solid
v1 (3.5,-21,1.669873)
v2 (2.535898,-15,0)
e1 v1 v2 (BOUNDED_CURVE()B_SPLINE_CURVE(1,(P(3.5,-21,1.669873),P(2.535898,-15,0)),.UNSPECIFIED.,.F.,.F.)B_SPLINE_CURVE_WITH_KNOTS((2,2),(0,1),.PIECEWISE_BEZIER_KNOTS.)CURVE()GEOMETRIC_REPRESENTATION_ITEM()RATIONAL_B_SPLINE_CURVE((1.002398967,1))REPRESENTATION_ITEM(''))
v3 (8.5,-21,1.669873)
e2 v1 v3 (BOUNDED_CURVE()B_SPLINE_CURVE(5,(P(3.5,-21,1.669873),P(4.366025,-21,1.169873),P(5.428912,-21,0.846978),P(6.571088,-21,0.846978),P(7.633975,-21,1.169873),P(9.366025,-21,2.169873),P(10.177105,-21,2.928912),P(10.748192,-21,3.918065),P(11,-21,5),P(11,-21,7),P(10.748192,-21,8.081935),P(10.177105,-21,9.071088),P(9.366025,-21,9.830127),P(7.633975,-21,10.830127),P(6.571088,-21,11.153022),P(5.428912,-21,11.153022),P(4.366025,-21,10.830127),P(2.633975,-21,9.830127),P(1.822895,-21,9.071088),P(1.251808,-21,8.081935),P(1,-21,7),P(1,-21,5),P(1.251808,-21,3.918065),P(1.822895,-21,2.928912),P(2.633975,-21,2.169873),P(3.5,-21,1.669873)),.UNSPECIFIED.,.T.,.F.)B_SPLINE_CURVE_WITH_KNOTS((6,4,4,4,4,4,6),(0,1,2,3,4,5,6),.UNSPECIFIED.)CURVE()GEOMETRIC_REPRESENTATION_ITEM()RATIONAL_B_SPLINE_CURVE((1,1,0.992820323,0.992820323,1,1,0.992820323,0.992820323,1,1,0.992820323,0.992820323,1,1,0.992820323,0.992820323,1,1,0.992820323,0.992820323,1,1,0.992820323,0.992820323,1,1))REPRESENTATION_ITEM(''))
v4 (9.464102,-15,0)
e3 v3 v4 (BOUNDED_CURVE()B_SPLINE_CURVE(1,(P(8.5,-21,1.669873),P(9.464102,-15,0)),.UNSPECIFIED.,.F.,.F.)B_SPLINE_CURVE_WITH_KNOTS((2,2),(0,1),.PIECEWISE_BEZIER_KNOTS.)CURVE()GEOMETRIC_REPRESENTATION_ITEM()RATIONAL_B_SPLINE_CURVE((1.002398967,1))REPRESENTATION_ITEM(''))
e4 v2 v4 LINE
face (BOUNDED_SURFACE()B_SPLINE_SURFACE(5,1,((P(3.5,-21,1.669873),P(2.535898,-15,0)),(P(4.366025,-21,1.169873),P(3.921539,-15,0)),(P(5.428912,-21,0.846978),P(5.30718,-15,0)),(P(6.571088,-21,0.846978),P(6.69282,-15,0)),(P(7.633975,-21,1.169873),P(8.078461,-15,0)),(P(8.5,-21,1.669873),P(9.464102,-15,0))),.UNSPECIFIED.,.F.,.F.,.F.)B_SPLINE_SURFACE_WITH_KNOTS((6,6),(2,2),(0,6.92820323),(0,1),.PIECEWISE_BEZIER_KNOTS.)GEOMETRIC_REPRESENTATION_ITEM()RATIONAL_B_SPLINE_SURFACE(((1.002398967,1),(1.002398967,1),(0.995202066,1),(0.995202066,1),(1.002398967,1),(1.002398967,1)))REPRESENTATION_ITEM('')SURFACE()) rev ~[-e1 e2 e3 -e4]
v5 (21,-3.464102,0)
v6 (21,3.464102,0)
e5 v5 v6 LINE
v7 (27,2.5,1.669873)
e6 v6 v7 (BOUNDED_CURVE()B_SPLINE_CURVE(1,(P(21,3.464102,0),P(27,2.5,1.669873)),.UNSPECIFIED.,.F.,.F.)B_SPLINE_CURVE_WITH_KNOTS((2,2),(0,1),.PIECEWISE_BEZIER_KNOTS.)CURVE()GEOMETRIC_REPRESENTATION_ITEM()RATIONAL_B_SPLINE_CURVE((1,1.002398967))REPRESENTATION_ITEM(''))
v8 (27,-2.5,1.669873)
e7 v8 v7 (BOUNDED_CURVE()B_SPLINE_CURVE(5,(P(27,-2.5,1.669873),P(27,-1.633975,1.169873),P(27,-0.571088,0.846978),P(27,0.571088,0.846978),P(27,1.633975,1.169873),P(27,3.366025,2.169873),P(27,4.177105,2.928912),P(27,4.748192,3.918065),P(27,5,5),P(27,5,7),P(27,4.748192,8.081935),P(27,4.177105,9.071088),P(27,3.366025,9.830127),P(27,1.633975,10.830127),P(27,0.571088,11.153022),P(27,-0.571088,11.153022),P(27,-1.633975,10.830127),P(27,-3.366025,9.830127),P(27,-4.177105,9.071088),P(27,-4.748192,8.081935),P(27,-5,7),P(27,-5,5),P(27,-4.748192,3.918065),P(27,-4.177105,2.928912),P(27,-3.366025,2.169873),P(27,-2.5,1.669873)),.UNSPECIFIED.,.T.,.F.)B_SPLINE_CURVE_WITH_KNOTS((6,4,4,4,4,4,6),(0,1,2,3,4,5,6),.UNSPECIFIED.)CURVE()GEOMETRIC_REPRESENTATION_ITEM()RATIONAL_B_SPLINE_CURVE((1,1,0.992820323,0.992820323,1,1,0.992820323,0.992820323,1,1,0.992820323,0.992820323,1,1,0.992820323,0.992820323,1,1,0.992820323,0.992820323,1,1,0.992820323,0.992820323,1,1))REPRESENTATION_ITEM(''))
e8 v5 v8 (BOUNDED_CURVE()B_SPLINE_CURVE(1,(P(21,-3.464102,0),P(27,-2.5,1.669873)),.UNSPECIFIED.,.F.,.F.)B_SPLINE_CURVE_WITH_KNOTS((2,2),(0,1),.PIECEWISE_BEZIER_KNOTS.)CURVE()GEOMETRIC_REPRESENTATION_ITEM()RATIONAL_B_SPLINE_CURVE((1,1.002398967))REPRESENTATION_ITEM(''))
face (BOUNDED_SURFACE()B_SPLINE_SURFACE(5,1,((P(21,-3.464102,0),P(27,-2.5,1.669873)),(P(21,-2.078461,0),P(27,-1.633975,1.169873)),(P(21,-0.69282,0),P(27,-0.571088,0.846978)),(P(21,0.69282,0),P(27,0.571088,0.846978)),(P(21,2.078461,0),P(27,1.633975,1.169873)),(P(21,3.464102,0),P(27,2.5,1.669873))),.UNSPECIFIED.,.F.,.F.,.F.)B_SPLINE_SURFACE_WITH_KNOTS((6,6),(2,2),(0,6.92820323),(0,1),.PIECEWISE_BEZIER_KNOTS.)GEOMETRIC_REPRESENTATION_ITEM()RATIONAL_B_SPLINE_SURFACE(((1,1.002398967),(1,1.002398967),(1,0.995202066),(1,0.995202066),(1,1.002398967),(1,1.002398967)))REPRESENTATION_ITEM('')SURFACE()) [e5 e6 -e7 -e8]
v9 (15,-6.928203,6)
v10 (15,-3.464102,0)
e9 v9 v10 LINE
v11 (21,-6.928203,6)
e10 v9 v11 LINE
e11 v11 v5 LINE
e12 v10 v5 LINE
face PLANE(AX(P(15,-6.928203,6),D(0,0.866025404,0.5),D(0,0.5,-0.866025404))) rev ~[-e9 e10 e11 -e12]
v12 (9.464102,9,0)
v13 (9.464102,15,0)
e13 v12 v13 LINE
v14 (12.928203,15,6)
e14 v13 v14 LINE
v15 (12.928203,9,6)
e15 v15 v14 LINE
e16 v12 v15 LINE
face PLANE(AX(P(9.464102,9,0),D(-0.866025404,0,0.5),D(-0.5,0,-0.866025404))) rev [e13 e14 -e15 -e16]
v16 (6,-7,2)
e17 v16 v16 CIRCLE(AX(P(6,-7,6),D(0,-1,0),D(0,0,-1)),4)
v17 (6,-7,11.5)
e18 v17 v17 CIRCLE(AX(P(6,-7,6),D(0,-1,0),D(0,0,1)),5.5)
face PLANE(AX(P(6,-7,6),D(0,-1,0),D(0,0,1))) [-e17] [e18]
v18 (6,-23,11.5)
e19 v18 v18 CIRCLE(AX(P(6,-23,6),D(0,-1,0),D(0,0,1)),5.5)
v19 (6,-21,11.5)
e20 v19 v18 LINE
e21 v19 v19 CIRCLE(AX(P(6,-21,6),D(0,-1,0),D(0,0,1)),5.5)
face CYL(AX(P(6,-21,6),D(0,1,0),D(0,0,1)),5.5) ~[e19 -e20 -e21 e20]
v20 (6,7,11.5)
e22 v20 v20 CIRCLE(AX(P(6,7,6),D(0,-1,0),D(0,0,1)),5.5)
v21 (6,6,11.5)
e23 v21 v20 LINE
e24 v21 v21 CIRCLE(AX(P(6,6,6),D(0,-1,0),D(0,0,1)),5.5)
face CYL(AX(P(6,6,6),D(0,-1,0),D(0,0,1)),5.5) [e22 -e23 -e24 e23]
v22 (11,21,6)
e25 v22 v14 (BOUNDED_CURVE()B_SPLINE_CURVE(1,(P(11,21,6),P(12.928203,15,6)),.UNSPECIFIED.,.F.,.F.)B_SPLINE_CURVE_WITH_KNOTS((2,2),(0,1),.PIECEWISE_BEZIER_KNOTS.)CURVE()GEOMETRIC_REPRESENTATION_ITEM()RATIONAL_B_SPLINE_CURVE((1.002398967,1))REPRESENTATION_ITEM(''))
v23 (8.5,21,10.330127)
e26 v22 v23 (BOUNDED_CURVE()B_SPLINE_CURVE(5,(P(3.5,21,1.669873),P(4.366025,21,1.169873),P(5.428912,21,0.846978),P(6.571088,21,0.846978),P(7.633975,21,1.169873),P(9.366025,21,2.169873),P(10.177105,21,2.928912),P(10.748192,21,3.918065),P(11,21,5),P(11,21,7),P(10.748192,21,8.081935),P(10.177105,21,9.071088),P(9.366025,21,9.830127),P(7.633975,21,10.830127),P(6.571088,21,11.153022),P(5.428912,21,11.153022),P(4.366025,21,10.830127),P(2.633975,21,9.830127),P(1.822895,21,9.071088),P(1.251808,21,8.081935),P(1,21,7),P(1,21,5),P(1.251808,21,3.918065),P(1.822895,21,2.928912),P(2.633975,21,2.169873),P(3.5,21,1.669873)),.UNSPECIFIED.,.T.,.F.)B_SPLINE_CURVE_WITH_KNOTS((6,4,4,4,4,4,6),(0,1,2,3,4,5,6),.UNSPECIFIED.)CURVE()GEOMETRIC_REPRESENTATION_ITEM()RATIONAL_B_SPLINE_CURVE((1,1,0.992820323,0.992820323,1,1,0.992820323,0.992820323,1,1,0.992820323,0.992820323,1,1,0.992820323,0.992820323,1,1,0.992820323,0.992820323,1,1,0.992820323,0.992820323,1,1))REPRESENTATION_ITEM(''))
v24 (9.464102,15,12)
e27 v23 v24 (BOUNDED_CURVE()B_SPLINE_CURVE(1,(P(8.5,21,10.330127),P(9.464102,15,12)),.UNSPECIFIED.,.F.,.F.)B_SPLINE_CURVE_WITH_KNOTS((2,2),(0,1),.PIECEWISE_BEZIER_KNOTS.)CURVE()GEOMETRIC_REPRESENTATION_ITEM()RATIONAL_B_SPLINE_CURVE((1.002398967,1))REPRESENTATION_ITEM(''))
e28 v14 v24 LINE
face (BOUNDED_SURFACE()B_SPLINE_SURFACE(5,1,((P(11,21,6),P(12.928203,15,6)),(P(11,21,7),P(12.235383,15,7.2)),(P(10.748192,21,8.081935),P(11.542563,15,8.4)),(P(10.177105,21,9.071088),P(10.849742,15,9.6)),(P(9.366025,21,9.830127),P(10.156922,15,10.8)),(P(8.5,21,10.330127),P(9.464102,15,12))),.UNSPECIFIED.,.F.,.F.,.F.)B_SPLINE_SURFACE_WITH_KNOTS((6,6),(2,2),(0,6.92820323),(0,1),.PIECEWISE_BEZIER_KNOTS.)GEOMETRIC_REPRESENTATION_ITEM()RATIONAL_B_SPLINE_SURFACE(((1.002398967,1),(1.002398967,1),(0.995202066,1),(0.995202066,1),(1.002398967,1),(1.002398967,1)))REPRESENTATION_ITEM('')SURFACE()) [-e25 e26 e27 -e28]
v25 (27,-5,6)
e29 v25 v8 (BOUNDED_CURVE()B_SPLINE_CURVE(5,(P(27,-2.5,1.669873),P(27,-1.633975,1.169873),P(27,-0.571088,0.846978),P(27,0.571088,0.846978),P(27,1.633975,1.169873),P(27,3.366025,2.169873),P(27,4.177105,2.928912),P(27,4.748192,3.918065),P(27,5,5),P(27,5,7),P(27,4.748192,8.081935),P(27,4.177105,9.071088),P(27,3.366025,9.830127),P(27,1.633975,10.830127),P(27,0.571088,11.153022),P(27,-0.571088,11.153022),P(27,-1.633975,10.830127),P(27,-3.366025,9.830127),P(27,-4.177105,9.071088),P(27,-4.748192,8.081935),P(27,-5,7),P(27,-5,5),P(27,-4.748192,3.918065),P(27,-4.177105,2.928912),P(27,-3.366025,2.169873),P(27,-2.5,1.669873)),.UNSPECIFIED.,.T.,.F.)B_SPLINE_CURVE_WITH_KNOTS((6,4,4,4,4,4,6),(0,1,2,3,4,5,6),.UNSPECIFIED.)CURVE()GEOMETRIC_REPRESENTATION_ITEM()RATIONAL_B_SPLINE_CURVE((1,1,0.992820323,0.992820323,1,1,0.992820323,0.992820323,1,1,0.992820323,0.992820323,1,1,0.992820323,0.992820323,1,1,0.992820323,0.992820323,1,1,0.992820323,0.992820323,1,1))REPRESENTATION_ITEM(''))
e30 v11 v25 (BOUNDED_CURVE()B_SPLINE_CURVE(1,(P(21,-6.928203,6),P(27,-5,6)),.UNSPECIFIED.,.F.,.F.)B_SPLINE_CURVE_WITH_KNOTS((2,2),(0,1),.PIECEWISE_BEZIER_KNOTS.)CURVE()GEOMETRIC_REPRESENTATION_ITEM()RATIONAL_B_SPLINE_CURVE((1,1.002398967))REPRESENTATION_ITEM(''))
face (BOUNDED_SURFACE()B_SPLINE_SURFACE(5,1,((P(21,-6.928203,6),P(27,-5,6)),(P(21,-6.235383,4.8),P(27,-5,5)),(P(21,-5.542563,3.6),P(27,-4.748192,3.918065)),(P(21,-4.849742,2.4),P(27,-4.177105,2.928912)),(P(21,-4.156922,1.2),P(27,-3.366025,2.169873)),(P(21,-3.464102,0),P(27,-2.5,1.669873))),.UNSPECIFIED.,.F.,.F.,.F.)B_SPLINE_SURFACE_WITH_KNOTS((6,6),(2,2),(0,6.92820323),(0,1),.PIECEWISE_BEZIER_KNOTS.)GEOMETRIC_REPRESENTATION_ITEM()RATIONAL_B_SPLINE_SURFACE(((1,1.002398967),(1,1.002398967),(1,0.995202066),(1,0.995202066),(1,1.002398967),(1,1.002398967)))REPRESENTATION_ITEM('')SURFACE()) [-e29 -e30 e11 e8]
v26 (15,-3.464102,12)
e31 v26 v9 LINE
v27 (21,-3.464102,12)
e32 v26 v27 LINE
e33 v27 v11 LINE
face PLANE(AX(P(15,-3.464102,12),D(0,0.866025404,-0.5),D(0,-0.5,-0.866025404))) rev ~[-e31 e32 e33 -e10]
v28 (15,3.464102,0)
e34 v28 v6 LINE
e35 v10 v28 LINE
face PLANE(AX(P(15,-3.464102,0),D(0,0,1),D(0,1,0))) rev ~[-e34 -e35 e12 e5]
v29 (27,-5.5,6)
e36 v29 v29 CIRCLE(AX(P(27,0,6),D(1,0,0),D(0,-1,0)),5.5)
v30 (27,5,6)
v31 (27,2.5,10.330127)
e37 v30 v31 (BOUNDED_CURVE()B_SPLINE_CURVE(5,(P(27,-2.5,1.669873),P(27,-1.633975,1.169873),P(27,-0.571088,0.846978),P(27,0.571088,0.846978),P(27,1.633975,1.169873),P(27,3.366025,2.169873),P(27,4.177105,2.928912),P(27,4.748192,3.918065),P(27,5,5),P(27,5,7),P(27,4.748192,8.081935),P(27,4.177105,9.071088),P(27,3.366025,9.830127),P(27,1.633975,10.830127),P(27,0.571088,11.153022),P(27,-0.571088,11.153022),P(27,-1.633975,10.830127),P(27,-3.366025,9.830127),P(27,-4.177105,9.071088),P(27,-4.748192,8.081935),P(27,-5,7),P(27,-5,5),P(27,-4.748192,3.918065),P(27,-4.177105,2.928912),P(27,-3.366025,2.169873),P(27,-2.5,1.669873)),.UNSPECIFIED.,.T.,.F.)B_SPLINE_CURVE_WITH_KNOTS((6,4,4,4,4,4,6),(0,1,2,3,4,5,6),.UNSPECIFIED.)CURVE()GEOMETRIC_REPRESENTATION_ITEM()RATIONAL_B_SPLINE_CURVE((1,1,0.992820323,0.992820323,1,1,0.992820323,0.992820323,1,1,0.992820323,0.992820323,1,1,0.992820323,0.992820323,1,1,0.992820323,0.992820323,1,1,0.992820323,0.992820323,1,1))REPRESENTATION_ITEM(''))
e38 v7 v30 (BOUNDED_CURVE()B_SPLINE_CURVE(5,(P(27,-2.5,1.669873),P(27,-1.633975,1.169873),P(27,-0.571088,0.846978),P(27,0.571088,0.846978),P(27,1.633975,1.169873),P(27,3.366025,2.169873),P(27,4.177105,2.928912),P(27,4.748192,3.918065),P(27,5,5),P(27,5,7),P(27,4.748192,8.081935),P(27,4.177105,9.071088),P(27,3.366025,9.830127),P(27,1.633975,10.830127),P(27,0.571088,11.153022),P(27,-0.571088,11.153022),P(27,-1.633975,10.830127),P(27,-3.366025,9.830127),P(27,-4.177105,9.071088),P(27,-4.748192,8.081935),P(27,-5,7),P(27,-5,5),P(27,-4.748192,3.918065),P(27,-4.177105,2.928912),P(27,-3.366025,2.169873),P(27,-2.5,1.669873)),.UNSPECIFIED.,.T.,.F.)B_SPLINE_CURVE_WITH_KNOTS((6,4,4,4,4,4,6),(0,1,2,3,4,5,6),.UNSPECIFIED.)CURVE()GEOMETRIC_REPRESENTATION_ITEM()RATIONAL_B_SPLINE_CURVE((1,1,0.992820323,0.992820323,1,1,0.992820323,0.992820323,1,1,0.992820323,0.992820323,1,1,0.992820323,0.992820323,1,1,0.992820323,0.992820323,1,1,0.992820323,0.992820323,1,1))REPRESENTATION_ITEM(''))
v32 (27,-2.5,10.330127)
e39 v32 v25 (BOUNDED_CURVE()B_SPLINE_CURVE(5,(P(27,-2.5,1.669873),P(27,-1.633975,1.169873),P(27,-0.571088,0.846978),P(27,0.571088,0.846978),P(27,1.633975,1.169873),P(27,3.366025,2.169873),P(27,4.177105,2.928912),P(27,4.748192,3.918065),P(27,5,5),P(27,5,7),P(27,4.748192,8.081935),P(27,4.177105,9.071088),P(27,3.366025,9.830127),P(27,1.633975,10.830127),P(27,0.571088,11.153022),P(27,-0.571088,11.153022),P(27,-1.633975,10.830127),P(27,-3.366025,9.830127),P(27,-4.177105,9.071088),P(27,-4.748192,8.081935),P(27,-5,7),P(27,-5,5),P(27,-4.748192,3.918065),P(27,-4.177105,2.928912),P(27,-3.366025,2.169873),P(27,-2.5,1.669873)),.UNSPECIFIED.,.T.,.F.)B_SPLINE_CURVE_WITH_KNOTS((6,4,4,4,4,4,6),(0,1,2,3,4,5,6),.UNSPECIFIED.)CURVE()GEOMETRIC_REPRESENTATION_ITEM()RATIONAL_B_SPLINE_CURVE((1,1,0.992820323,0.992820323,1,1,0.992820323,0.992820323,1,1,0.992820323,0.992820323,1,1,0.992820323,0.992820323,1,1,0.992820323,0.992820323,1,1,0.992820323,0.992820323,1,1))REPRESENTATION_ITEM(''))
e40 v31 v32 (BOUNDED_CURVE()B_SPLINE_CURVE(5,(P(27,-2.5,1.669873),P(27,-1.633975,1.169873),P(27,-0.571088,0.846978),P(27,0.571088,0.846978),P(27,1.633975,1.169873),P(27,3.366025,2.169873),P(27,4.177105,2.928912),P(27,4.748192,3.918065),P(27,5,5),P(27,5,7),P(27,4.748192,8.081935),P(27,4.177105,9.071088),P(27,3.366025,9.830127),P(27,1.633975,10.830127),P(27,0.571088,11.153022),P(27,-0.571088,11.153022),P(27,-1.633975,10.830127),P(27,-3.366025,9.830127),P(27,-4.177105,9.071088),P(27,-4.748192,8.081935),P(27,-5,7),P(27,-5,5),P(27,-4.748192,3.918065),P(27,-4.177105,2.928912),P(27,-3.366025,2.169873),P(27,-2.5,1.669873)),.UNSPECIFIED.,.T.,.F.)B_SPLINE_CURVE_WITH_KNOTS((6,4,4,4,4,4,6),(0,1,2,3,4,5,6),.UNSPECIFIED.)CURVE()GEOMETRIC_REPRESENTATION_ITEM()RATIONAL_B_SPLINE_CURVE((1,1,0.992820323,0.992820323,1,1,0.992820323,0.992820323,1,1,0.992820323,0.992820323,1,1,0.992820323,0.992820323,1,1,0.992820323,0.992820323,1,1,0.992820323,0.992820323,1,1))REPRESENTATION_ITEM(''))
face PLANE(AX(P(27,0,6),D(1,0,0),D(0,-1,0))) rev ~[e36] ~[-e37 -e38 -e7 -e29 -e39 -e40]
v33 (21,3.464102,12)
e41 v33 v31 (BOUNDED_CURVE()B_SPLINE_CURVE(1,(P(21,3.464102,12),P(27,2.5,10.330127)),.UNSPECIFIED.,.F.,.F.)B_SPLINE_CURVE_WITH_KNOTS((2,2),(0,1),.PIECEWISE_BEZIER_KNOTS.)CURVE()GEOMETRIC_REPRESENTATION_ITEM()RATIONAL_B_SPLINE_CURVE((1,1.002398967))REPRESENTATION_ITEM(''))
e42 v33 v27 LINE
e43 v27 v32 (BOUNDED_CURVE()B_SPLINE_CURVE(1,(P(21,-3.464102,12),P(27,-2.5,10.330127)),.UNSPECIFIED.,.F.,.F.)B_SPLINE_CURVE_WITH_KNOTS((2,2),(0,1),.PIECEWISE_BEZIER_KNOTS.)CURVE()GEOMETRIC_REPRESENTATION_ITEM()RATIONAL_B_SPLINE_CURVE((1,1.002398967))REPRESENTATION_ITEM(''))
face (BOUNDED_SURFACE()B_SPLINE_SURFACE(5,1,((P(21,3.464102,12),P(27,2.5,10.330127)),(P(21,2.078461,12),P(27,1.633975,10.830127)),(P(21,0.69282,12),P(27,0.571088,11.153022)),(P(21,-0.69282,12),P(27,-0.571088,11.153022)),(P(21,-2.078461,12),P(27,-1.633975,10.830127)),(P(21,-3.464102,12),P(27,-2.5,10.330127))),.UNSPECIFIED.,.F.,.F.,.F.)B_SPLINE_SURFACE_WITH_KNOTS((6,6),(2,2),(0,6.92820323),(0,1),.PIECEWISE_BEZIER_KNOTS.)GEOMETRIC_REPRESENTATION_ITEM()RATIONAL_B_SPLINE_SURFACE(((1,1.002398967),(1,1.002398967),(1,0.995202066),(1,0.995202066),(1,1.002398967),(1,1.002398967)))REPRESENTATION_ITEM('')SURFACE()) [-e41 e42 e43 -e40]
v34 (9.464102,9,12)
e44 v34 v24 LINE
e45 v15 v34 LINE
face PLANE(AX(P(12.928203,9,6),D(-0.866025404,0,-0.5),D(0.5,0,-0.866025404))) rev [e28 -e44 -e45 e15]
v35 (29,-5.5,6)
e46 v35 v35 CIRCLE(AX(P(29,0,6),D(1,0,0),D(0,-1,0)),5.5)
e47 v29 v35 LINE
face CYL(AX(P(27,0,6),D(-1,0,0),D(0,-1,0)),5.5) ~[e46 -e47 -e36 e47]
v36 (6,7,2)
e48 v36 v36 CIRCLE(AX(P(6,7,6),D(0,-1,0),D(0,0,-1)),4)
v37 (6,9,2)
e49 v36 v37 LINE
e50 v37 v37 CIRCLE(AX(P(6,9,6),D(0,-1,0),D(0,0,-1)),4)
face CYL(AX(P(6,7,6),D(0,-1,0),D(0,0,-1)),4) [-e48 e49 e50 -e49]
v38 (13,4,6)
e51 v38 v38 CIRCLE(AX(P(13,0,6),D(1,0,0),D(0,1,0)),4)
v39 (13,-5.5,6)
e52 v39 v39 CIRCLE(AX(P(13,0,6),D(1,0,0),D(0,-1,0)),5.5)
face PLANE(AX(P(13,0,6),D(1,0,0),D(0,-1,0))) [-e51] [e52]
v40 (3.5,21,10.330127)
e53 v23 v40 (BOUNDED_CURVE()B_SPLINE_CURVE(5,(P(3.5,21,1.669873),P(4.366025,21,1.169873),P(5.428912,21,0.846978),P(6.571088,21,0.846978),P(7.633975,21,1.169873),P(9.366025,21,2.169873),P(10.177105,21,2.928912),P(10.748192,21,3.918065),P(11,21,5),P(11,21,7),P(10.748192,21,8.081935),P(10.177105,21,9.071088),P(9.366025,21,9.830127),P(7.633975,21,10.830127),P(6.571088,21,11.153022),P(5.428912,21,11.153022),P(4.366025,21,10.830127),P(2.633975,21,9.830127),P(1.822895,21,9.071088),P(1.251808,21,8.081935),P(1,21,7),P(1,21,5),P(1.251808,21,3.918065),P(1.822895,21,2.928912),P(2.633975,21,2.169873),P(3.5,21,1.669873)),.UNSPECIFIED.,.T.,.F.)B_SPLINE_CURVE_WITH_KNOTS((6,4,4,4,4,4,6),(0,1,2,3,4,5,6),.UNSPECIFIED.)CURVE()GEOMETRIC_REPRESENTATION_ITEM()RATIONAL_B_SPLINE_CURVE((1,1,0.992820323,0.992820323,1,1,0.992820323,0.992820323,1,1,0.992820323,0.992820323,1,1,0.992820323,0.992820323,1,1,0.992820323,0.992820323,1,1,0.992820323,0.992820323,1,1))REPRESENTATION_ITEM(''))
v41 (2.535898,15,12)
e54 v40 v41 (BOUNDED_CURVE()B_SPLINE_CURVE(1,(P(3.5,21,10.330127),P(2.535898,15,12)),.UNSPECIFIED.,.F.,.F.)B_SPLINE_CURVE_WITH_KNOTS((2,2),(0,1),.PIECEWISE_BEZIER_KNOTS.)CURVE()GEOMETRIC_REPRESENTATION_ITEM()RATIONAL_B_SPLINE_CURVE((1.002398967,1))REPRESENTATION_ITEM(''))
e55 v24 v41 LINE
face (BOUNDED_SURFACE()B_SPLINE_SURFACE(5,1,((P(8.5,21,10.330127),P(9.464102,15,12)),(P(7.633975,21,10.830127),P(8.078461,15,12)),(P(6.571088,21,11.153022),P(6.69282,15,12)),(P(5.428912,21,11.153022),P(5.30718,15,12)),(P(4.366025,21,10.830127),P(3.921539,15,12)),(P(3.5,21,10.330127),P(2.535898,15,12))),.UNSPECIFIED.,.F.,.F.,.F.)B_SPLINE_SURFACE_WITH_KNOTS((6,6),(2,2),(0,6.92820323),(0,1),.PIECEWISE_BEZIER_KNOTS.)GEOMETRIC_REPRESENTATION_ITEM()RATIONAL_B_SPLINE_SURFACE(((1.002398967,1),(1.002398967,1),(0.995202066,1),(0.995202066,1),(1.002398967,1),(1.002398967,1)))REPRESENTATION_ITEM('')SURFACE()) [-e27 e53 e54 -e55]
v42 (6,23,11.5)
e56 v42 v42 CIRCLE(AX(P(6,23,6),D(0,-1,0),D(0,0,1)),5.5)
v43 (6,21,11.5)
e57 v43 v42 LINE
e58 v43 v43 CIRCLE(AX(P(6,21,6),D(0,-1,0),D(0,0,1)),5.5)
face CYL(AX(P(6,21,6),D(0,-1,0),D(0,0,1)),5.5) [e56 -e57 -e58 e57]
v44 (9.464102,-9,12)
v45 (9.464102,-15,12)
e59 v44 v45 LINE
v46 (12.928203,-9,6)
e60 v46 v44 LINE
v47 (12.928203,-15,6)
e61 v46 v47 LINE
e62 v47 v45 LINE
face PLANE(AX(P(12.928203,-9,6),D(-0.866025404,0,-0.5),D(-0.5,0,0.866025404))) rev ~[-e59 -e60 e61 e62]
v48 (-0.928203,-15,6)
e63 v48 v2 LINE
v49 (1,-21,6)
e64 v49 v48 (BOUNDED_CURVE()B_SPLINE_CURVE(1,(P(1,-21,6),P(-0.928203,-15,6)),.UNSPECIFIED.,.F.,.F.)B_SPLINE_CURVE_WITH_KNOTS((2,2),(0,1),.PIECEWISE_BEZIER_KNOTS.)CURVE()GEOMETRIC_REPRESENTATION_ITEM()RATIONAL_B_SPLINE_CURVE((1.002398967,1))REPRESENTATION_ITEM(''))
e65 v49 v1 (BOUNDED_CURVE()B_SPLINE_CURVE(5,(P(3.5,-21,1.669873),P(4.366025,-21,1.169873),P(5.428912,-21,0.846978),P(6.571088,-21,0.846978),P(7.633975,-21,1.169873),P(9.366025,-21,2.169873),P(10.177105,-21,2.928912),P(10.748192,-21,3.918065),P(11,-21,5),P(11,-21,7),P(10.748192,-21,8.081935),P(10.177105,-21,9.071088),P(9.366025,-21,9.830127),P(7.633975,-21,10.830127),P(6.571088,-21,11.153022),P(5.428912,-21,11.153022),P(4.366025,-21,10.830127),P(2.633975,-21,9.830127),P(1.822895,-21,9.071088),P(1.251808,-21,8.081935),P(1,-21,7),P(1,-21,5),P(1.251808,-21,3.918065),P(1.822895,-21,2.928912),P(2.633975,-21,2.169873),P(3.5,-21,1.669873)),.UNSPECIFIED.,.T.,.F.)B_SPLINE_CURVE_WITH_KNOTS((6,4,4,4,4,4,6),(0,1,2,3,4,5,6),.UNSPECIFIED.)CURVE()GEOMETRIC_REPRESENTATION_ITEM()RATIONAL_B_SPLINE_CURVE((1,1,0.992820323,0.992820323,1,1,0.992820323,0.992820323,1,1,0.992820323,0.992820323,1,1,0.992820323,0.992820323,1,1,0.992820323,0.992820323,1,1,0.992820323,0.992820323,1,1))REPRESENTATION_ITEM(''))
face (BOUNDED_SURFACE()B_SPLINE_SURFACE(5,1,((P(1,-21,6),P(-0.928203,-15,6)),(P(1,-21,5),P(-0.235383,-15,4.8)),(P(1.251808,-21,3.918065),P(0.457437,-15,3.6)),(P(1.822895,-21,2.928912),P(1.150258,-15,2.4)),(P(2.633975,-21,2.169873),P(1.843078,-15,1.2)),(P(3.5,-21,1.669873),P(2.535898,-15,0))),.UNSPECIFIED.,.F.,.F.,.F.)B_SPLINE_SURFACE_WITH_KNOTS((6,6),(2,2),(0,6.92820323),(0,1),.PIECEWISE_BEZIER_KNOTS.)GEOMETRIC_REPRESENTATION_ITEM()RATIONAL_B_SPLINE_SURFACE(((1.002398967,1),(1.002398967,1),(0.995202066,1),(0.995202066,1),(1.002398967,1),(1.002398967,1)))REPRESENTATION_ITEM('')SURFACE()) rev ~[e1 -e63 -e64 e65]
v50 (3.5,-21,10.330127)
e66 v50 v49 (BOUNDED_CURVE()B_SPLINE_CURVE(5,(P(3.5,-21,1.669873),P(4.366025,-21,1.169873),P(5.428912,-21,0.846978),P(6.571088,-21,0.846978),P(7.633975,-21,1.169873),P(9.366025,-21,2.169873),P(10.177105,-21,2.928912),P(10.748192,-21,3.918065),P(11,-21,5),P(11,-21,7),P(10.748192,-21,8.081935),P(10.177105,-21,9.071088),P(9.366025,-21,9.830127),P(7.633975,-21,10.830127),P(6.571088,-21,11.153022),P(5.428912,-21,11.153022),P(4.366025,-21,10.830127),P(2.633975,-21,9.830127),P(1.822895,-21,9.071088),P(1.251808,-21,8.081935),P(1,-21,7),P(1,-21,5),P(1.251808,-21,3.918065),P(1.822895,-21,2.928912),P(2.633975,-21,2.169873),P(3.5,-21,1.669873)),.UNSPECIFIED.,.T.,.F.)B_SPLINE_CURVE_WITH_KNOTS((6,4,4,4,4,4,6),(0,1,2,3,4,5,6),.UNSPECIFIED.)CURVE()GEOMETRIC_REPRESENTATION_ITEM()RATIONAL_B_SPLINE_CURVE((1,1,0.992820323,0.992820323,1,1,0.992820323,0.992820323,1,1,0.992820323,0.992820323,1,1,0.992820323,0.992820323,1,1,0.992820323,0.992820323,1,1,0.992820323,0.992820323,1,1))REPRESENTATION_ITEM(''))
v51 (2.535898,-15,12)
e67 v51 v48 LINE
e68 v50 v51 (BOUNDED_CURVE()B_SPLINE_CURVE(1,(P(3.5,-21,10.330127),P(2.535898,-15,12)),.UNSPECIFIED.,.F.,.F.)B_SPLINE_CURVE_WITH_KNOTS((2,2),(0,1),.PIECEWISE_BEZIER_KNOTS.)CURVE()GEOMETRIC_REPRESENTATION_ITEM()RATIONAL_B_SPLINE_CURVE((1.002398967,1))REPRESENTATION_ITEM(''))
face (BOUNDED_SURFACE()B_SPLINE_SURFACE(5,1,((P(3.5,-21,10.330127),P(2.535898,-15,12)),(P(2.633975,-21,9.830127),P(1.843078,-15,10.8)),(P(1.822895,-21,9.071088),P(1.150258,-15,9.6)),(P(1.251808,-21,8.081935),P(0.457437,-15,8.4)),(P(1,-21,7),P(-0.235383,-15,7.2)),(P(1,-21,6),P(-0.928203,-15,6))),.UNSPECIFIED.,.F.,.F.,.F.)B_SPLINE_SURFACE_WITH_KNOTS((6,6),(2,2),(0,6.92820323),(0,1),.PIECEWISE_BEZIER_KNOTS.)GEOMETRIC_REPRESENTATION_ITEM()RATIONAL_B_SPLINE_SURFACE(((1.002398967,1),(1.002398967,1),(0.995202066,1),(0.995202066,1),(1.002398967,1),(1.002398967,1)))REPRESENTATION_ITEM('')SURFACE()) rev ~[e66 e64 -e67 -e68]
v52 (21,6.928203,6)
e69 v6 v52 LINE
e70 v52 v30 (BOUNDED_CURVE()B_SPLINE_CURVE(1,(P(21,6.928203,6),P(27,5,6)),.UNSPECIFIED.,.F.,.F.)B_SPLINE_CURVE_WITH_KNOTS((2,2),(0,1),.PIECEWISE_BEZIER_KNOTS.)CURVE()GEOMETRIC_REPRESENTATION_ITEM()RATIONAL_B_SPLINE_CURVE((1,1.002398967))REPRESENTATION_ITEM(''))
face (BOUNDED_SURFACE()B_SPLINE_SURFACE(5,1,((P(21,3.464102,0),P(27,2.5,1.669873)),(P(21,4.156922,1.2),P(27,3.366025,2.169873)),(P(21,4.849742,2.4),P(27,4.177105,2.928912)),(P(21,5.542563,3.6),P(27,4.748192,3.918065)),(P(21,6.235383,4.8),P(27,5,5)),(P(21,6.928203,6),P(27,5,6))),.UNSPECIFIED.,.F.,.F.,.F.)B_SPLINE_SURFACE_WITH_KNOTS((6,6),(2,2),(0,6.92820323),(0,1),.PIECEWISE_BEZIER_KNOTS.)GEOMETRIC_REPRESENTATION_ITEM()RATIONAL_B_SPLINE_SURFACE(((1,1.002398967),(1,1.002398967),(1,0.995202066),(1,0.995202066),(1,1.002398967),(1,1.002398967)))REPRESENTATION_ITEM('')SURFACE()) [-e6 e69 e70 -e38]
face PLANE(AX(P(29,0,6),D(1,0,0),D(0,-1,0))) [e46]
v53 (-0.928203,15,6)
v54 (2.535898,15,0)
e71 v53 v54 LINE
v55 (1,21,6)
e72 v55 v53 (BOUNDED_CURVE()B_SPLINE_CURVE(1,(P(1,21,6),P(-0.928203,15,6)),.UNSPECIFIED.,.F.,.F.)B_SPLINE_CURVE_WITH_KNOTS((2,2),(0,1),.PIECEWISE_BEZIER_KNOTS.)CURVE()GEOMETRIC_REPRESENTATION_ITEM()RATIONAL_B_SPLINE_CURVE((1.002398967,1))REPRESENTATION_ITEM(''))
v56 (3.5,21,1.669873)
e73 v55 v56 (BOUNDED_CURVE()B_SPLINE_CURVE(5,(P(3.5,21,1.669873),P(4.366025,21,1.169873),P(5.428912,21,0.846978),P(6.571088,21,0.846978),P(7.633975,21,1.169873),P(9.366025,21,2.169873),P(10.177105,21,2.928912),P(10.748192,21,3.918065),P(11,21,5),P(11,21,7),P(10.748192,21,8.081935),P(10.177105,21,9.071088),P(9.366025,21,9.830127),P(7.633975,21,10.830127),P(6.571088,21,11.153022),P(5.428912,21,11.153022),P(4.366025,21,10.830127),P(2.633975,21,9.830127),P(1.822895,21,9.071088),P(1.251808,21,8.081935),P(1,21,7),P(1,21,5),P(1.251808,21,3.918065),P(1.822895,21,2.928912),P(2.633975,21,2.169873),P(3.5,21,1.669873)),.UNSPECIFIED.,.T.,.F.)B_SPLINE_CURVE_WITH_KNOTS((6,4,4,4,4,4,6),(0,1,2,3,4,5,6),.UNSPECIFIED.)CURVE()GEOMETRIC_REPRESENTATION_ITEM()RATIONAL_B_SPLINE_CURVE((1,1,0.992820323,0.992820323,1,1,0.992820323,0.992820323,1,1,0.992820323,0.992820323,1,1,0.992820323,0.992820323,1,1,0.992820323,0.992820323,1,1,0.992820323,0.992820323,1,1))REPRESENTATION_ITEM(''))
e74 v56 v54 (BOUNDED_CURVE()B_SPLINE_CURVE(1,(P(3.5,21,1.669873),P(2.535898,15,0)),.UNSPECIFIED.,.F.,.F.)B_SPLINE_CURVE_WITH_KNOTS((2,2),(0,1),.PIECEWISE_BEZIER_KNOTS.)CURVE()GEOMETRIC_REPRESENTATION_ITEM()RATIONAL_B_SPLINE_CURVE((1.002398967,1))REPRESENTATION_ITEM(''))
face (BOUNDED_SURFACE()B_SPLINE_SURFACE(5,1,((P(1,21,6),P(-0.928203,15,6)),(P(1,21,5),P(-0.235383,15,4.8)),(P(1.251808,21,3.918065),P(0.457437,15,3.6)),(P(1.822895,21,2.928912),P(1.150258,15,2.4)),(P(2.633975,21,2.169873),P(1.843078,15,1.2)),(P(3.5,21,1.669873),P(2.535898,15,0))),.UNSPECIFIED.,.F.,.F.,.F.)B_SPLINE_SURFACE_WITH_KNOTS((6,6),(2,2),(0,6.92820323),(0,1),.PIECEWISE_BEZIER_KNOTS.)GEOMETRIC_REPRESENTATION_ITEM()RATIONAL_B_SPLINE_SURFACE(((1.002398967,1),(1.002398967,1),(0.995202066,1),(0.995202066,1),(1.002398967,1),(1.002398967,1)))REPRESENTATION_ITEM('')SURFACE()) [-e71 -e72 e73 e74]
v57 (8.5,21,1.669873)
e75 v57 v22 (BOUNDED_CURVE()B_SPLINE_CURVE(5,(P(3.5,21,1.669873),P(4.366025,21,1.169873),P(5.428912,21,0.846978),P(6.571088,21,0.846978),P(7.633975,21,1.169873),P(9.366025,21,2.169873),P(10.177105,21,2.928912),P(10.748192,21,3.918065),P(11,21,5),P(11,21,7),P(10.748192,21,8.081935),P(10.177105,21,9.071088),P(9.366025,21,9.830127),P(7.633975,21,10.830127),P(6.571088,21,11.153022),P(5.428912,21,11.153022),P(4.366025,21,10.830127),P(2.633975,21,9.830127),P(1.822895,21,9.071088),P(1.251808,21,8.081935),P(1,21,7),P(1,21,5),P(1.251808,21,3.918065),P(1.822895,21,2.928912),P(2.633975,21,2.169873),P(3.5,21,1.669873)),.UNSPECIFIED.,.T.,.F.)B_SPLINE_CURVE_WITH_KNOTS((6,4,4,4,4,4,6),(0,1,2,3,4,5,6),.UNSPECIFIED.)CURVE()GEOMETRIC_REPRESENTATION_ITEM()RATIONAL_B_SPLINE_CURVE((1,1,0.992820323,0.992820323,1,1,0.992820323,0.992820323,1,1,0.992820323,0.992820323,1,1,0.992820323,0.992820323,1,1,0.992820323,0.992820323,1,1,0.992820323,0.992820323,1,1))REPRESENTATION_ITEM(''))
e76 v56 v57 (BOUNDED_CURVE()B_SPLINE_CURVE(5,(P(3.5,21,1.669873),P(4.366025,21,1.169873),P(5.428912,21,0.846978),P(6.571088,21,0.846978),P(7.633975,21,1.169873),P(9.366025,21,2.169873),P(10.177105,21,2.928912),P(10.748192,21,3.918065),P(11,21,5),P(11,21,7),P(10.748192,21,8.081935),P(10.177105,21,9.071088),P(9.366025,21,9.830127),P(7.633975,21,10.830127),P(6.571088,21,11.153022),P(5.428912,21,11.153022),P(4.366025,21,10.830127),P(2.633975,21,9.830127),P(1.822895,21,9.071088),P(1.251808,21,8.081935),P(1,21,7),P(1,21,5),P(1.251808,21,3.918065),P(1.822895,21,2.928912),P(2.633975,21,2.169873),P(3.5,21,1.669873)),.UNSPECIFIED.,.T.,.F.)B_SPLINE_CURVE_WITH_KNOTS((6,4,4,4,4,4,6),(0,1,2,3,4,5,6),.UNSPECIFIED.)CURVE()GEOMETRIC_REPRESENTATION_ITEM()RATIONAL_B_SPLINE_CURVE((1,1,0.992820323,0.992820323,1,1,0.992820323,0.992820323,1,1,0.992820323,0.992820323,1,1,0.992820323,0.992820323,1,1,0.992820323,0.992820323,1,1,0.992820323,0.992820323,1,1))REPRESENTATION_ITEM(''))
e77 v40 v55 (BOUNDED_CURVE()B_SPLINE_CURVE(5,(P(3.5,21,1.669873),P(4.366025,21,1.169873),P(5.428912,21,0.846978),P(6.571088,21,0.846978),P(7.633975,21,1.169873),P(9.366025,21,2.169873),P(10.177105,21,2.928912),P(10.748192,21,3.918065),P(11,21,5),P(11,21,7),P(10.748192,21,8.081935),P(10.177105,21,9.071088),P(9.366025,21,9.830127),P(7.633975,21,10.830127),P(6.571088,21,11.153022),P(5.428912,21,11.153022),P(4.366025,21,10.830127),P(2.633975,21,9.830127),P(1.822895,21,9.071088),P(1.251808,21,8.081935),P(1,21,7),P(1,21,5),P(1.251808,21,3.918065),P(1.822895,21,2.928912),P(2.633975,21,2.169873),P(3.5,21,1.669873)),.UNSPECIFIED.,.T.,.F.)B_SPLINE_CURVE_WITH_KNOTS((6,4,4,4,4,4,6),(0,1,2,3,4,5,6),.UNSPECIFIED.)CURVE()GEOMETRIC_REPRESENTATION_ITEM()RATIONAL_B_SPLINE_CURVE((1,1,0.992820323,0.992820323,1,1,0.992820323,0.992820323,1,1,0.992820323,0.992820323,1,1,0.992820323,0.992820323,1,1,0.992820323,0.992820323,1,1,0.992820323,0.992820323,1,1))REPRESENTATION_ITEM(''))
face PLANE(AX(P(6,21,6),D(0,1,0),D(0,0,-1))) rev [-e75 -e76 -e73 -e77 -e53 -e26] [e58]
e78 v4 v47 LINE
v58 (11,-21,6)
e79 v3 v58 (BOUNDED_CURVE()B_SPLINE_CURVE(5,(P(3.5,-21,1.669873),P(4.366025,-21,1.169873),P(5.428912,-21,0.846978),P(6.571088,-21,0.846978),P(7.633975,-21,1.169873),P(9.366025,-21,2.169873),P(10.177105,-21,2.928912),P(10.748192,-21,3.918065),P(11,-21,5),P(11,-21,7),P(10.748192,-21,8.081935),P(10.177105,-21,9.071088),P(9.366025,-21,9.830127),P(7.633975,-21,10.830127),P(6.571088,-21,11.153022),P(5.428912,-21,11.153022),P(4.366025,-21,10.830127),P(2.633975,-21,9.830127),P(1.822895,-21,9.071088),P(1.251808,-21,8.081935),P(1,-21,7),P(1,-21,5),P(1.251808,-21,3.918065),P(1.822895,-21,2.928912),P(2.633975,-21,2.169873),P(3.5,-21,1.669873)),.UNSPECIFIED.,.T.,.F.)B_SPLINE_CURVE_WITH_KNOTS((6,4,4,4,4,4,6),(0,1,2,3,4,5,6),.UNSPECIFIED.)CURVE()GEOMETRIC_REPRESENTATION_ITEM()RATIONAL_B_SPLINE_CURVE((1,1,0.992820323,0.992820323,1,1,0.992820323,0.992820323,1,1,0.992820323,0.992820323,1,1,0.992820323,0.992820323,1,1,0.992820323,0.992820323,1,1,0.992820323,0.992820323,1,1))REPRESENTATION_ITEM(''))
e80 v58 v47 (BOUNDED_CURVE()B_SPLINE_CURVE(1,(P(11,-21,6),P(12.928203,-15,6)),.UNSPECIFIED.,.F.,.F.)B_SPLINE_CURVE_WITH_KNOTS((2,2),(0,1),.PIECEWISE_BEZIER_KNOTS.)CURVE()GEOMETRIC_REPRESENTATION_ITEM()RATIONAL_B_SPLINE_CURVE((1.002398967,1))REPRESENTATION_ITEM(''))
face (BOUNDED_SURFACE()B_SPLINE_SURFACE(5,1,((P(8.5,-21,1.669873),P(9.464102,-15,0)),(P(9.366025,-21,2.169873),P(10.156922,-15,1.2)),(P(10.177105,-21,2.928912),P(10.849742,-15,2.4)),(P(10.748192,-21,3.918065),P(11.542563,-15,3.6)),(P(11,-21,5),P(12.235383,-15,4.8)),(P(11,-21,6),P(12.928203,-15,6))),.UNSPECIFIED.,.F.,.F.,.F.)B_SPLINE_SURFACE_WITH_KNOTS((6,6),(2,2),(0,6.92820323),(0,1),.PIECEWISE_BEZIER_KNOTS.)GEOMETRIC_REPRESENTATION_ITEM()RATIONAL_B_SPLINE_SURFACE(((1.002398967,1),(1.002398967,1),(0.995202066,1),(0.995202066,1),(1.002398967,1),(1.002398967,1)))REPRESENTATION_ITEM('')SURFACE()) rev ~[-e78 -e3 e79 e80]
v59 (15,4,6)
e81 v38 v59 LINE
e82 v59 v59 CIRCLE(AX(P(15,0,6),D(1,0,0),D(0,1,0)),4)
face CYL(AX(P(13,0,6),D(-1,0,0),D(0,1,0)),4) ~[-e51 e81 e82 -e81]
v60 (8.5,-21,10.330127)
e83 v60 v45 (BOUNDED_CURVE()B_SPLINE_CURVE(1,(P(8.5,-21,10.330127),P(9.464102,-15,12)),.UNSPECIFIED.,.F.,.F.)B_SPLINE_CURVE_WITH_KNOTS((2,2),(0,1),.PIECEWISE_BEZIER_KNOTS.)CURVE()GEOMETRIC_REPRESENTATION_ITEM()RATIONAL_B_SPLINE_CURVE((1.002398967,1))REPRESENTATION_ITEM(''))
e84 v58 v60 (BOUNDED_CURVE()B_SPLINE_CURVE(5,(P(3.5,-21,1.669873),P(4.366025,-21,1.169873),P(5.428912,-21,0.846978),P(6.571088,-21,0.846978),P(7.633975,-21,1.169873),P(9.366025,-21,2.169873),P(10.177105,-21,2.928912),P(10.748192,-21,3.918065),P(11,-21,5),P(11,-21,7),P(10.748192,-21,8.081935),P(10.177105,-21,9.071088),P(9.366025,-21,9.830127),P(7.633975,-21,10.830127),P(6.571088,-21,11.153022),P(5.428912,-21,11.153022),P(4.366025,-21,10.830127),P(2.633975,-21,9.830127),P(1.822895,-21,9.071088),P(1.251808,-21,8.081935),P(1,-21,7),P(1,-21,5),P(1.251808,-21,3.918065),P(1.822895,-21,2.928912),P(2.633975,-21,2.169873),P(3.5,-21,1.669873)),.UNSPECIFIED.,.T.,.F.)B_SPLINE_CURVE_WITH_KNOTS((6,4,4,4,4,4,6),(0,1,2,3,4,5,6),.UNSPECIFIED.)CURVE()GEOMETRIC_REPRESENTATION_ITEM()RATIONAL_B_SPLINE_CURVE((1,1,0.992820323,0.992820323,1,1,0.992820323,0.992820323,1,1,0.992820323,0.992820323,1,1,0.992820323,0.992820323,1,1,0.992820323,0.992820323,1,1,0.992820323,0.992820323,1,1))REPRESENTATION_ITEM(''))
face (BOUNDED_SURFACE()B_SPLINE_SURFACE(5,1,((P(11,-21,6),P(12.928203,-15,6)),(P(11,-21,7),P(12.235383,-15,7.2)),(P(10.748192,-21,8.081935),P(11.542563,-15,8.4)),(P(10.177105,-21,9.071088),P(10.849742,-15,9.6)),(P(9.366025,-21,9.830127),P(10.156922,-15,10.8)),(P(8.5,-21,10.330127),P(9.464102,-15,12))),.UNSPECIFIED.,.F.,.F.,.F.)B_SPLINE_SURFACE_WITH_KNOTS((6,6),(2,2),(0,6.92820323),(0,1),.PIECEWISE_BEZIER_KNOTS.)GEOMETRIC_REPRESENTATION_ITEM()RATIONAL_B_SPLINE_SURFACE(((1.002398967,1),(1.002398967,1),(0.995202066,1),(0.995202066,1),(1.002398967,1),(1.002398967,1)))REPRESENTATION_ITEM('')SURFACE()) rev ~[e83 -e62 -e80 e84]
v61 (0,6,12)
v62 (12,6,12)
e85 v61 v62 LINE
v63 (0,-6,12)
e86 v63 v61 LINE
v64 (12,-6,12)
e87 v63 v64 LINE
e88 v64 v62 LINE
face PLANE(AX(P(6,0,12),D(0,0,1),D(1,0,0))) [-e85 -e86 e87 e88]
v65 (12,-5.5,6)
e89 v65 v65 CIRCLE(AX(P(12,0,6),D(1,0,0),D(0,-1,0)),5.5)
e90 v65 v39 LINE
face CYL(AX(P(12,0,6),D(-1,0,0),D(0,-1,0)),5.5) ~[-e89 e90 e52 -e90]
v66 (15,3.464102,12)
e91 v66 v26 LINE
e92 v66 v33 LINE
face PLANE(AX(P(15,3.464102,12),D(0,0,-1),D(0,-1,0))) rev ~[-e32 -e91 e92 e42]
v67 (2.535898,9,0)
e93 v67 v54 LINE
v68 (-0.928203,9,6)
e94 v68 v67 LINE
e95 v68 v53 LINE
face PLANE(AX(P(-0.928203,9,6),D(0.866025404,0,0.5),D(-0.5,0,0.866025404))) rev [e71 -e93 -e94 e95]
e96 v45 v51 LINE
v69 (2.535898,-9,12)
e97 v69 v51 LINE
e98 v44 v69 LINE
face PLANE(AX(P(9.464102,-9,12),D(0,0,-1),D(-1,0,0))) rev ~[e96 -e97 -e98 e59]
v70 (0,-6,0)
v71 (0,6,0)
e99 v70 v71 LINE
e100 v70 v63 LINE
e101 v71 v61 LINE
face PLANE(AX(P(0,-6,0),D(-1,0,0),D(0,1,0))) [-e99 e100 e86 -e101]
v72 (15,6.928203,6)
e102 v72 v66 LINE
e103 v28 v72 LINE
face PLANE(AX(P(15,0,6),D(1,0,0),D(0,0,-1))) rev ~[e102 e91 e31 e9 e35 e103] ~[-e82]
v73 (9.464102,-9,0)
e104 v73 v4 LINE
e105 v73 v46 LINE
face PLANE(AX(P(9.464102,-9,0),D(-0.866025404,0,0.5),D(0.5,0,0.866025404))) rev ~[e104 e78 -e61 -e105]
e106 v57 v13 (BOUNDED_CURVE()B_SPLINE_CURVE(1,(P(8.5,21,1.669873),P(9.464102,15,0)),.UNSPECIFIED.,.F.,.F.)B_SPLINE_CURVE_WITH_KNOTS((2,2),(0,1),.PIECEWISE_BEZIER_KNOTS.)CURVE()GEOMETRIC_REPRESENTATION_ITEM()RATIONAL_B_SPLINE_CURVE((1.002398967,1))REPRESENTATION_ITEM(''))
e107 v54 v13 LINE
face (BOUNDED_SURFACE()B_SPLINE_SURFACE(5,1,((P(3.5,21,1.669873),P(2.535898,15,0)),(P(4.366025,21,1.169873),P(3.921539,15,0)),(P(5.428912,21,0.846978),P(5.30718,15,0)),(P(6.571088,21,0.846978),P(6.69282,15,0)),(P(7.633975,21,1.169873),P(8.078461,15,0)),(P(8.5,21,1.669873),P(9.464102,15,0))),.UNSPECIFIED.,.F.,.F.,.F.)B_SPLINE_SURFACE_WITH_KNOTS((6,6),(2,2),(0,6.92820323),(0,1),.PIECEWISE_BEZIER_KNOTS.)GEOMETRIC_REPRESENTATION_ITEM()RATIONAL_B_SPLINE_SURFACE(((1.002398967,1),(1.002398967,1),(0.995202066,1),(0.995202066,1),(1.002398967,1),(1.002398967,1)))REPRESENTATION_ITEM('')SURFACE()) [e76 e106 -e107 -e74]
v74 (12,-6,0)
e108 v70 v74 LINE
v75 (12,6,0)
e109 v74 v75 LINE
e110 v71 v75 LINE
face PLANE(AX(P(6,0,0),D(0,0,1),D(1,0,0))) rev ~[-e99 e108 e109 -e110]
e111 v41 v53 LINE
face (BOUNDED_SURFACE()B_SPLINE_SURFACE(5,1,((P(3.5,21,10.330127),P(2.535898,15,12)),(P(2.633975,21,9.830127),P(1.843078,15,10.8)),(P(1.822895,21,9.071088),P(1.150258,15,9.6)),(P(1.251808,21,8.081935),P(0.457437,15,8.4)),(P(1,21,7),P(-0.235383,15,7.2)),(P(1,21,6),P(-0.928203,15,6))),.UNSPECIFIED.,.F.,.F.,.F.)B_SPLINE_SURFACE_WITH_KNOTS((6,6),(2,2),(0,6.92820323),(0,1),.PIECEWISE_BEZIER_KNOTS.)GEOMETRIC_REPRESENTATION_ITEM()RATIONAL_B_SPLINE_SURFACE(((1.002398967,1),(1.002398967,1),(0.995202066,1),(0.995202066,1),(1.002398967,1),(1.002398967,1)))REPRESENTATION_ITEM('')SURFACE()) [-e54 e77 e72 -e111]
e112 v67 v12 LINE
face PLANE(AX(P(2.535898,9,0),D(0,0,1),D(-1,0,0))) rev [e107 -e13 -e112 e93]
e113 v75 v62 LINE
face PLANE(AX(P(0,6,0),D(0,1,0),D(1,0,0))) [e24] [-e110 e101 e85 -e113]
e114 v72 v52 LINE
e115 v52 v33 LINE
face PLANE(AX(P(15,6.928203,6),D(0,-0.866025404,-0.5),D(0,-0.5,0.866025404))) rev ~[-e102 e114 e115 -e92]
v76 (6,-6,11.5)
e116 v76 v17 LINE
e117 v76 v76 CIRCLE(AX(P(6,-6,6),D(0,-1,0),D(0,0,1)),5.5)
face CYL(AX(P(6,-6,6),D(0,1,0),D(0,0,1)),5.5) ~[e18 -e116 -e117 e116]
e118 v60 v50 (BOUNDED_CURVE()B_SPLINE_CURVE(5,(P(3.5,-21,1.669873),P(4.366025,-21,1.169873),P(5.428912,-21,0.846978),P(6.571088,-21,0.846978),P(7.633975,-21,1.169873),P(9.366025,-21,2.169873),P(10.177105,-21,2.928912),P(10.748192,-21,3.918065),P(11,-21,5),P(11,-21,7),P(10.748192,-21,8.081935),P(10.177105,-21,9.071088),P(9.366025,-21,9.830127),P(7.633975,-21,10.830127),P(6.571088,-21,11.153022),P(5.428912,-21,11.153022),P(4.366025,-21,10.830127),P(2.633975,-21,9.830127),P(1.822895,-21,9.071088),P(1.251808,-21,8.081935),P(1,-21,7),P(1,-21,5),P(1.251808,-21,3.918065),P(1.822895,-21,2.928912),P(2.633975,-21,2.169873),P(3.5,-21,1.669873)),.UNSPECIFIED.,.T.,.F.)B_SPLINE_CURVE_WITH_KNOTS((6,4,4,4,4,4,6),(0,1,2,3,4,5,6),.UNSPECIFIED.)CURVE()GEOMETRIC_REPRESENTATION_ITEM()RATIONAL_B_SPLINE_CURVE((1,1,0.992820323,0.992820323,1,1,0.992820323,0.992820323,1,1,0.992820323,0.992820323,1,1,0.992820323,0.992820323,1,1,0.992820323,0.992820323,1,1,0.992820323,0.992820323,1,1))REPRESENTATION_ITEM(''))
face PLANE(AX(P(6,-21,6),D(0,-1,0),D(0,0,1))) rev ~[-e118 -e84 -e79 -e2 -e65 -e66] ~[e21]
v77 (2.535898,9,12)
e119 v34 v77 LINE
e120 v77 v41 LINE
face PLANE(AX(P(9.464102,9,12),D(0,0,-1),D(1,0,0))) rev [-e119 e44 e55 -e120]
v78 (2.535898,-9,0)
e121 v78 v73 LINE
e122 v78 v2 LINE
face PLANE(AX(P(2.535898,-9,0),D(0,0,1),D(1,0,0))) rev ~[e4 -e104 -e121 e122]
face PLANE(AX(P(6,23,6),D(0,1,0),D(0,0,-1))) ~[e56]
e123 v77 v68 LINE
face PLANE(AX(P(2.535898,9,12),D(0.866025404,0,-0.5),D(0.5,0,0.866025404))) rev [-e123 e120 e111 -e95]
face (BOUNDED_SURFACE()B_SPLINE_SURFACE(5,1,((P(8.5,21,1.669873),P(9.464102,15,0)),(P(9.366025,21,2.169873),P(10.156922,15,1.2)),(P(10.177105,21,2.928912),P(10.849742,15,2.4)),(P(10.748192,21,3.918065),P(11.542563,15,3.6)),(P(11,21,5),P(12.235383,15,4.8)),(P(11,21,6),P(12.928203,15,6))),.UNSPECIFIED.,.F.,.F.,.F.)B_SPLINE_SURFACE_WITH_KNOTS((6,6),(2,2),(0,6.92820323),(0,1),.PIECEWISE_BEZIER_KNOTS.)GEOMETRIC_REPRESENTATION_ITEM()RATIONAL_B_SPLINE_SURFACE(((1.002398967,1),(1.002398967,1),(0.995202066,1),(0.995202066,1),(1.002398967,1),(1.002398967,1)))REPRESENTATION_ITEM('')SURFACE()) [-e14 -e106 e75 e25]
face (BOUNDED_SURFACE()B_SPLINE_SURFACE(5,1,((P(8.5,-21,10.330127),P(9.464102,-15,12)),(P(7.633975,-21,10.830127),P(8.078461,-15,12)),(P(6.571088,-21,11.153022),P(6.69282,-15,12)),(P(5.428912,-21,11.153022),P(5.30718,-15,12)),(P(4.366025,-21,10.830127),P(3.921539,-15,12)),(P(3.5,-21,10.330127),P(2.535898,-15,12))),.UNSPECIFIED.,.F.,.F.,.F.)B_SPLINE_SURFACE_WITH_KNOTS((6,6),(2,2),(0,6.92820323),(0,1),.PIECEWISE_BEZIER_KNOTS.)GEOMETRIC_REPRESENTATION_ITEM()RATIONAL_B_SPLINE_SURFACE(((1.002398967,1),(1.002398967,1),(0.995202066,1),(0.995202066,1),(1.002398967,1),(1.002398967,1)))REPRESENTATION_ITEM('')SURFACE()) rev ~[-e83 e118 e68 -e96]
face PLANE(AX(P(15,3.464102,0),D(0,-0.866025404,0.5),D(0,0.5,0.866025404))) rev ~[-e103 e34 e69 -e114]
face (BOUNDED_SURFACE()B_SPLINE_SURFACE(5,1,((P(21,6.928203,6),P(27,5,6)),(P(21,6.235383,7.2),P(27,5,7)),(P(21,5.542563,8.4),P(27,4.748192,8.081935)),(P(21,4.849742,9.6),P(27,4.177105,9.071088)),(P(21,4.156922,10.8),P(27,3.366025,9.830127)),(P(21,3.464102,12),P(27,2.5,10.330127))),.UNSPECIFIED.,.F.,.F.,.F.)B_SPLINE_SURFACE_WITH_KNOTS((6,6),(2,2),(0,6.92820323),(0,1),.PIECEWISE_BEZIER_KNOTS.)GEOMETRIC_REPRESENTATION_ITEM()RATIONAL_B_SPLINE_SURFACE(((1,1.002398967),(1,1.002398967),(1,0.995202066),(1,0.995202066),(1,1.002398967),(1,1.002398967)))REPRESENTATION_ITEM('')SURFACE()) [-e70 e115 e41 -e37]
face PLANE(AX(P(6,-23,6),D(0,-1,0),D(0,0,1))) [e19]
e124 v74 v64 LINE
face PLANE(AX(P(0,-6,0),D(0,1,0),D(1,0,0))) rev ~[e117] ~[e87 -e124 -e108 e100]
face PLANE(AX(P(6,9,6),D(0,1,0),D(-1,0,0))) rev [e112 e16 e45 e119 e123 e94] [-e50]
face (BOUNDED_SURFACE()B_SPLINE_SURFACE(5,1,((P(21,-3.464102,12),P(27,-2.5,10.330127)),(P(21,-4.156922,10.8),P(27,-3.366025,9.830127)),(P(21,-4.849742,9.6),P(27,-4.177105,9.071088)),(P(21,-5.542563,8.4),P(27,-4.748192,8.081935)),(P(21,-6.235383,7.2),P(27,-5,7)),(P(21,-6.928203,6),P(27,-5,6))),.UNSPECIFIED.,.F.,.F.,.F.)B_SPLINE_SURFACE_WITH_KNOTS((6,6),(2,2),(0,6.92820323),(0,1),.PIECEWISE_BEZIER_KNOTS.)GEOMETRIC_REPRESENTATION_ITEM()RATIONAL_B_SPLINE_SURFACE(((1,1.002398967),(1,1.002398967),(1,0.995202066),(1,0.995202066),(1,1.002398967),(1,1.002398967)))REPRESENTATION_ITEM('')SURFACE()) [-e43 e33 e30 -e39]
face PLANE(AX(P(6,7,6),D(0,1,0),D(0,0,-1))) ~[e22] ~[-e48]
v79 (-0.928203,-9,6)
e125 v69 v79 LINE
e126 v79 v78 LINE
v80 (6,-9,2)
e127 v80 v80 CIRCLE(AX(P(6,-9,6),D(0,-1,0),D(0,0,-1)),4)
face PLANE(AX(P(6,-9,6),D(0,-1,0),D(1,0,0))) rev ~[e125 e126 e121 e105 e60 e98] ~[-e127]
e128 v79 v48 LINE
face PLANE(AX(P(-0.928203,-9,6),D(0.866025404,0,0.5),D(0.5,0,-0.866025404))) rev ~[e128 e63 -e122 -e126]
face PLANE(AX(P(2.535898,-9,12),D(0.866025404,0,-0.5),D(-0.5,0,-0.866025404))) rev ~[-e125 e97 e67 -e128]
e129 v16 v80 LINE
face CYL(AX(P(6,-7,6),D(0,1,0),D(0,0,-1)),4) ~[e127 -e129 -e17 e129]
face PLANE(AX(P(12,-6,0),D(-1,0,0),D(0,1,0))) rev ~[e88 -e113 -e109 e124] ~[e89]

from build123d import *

# Parameters (mm, degrees)
SZKIC1_W                    = 12
SZKIC1_H                    = 12
DODANIE_WYCI_GNI_CIE1_DEPTH = 12
SZKIC2_R                    = 5.5
DODANIE_WYCI_GNI_CIE2_DEPTH = 1
SZKIC3_R                    = 4
DODANIE_WYCI_GNI_CIE3_DEPTH = 2
SZKIC4_R                    = 4
DODANIE_WYCI_GNI_CIE4_DEPTH = 6
SZKIC7_R                    = 5.5
DODANIE_WYCI_GNI_CIE5_DEPTH = 2
SZKIC8_R                    = 5.5
DODANIE_WYCI_GNI_CIE6_DEPTH = 1
SZKIC9_R                    = 4
DODANIE_WYCI_GNI_CIE7_DEPTH = 2
DODANIE_WYCI_GNI_CIE8_DEPTH = 6
SZKIC13_R                   = 5.5
DODANIE_WYCI_GNI_CIE9_DEPTH = 2


with BuildPart() as part:
    # Szkic1 → Dodanie-wyciągnięcie1 (new body)
    with BuildSketch(Plane.XY):
        with Locations((6, 0)):
            Rectangle(SZKIC1_W, SZKIC1_H)
    extrude(amount=DODANIE_WYCI_GNI_CIE1_DEPTH)

    # Szkic2 → Dodanie-wyciągnięcie2 (add)
    with BuildSketch(Plane.XZ.offset(6)):
        with Locations(Location((6, 6, 0), (0, 0, 90))):
            Circle(SZKIC2_R)
    dodanie_wyci_gni_cie2 = extrude(amount=DODANIE_WYCI_GNI_CIE2_DEPTH)

    # Szkic3 → Dodanie-wyciągnięcie3 (add)
    with BuildSketch(Plane.XZ.offset(7)):
        with Locations(Location((6, 6, 0), (0, 0, 270))):
            Circle(SZKIC3_R)
    dodanie_wyci_gni_cie3 = extrude(amount=DODANIE_WYCI_GNI_CIE3_DEPTH)

    # Szkic4 → Dodanie-wyciągnięcie4 (add)
    with BuildSketch(Plane.XZ.offset(9)):
        Polygon((9.464101615, 0), (12.92820323, 6), (9.464101615, 12), (2.535898385, 12), (-0.92820323, 6), (2.535898385, 0), align=None)
        with Locations(Location((6, 6, 0), (0, 0, 270))):
            Circle(SZKIC4_R, mode=Mode.SUBTRACT)
        with Locations(Location((6, 6, 0), (0, 0, 270))):
            Circle(SZKIC4_R)
    dodanie_wyci_gni_cie4 = extrude(amount=DODANIE_WYCI_GNI_CIE4_DEPTH)

    # Szkic5 for Wyci_gni_cie → Wyciągnięcie po profilach1 section 0
    with BuildSketch(Plane(origin=(0, -21, 0), x_dir=(-1, 0, 0), z_dir=(0, -1, 0))):
        with BuildLine():
            # circular arc as an exact rational Bezier (weights 1, cos(half-angle), 1)
            Bezier((-8.5, -1.669872981), (-11, -3.113248654), (-11, -6), weights=[1, 0.866025404, 1])
            Bezier((-11, -6), (-11, -8.886751346), (-8.5, -10.330127019), weights=[1, 0.866025404, 1])
            Bezier((-8.5, -10.330127019), (-6, -11.773502692), (-3.5, -10.330127019), weights=[1, 0.866025404, 1])
            Bezier((-3.5, -10.330127019), (-1, -8.886751346), (-1, -6), weights=[1, 0.866025404, 1])
            Bezier((-1, -6), (-1, -3.113248654), (-3.5, -1.669872981), weights=[1, 0.866025404, 1])
            Bezier((-3.5, -1.669872981), (-6, -0.226497308), (-8.5, -1.669872981), weights=[1, 0.866025404, 1])
        make_face()
    # Szkic6 → Wyciągnięcie po profilach1 section 1
    with BuildSketch(Plane.XZ.offset(15)):
        Polygon((9.464101615, 0), (12.92820323, 6), (9.464101615, 12), (2.535898385, 12), (-0.92820323, 6), (2.535898385, 0), align=None)
    wyci_gni_cie_po_profilach1 = loft()

    # Szkic7 → Dodanie-wyciągnięcie5 (add)
    with BuildSketch(Plane.XZ.offset(21)):
        with Locations(Location((6, 6, 0), (0, 0, 90))):
            Circle(SZKIC7_R)
    dodanie_wyci_gni_cie5 = extrude(amount=DODANIE_WYCI_GNI_CIE5_DEPTH)

    # Lustro1: Dodanie-wyciągnięcie2, Dodanie-wyciągnięcie3, Dodanie-wyciągnięcie4, Wyciągnięcie po profilach1, Dodanie-wyciągnięcie5 across plane
    add(dodanie_wyci_gni_cie2.mirror(Plane.ZX))
    add(dodanie_wyci_gni_cie3.mirror(Plane.ZX))
    add(dodanie_wyci_gni_cie4.mirror(Plane.ZX))
    add(wyci_gni_cie_po_profilach1.mirror(Plane.ZX))
    add(dodanie_wyci_gni_cie5.mirror(Plane.ZX))

    # Szkic8 → Dodanie-wyciągnięcie6 (add)
    with BuildSketch(Plane(origin=(12, 0, 0), x_dir=(0, 0, -1), z_dir=(1, 0, 0))):
        with Locations(Location((-6, 0, 0), (0, 0, 270))):
            Circle(SZKIC8_R)
    extrude(amount=DODANIE_WYCI_GNI_CIE6_DEPTH)

    # Szkic9 → Dodanie-wyciągnięcie7 (add)
    with BuildSketch(Plane(origin=(13, 0, 0), x_dir=(0, 0, -1), z_dir=(1, 0, 0))):
        with Locations(Location((-6, 0, 0), (0, 0, 90))):
            Circle(SZKIC9_R)
    extrude(amount=DODANIE_WYCI_GNI_CIE7_DEPTH)

    # Szkic10 → Dodanie-wyciągnięcie8 (add)
    with BuildSketch(Plane(origin=(15, 0, 0), x_dir=(0, 0, -1), z_dir=(1, 0, 0))):
        Polygon((-6, 6.92820323), (-12, 3.464101615), (-12, -3.464101615), (-6, -6.92820323), (0, -3.464101615), (0, 3.464101615), align=None)
    extrude(amount=DODANIE_WYCI_GNI_CIE8_DEPTH)

    # Szkic12 → Wyciągnięcie po profilach2 section 0
    with BuildSketch(Plane(origin=(21, 0, 0), x_dir=(0, 0, -1), z_dir=(1, 0, 0))):
        Polygon((0, 3.464101615), (-6, 6.92820323), (-12, 3.464101615), (-12, -3.464101615), (-6, -6.92820323), (0, -3.464101615), align=None)
    # Szkic11 for Wyci_gni_cie → Wyciągnięcie po profilach2 section 1
    with BuildSketch(Plane(origin=(27, 0, 0), x_dir=(0, 0, -1), z_dir=(1, 0, 0))):
        with BuildLine():
            Bezier((-1.669872981, 2.5), (-3.113248654, 5), (-6, 5), weights=[1, 0.866025404, 1])
            Bezier((-6, 5), (-8.886751346, 5), (-10.330127019, 2.5), weights=[1, 0.866025404, 1])
            Bezier((-10.330127019, 2.5), (-11.773502692, 0), (-10.330127019, -2.5), weights=[1, 0.866025404, 1])
            Bezier((-10.330127019, -2.5), (-8.886751346, -5), (-6, -5), weights=[1, 0.866025404, 1])
            Bezier((-6, -5), (-3.113248654, -5), (-1.669872981, -2.5), weights=[1, 0.866025404, 1])
            Bezier((-1.669872981, -2.5), (-0.226497308, 0), (-1.669872981, 2.5), weights=[1, 0.866025404, 1])
        make_face()
    loft()

    # Szkic13 → Dodanie-wyciągnięcie9 (add)
    with BuildSketch(Plane(origin=(27, 0, 0), x_dir=(0, 0, -1), z_dir=(1, 0, 0))):
        with Locations(Location((-6, 0, 0), (0, 0, 270))):
            Circle(SZKIC13_R)
    extrude(amount=DODANIE_WYCI_GNI_CIE9_DEPTH)


solid = part.part
